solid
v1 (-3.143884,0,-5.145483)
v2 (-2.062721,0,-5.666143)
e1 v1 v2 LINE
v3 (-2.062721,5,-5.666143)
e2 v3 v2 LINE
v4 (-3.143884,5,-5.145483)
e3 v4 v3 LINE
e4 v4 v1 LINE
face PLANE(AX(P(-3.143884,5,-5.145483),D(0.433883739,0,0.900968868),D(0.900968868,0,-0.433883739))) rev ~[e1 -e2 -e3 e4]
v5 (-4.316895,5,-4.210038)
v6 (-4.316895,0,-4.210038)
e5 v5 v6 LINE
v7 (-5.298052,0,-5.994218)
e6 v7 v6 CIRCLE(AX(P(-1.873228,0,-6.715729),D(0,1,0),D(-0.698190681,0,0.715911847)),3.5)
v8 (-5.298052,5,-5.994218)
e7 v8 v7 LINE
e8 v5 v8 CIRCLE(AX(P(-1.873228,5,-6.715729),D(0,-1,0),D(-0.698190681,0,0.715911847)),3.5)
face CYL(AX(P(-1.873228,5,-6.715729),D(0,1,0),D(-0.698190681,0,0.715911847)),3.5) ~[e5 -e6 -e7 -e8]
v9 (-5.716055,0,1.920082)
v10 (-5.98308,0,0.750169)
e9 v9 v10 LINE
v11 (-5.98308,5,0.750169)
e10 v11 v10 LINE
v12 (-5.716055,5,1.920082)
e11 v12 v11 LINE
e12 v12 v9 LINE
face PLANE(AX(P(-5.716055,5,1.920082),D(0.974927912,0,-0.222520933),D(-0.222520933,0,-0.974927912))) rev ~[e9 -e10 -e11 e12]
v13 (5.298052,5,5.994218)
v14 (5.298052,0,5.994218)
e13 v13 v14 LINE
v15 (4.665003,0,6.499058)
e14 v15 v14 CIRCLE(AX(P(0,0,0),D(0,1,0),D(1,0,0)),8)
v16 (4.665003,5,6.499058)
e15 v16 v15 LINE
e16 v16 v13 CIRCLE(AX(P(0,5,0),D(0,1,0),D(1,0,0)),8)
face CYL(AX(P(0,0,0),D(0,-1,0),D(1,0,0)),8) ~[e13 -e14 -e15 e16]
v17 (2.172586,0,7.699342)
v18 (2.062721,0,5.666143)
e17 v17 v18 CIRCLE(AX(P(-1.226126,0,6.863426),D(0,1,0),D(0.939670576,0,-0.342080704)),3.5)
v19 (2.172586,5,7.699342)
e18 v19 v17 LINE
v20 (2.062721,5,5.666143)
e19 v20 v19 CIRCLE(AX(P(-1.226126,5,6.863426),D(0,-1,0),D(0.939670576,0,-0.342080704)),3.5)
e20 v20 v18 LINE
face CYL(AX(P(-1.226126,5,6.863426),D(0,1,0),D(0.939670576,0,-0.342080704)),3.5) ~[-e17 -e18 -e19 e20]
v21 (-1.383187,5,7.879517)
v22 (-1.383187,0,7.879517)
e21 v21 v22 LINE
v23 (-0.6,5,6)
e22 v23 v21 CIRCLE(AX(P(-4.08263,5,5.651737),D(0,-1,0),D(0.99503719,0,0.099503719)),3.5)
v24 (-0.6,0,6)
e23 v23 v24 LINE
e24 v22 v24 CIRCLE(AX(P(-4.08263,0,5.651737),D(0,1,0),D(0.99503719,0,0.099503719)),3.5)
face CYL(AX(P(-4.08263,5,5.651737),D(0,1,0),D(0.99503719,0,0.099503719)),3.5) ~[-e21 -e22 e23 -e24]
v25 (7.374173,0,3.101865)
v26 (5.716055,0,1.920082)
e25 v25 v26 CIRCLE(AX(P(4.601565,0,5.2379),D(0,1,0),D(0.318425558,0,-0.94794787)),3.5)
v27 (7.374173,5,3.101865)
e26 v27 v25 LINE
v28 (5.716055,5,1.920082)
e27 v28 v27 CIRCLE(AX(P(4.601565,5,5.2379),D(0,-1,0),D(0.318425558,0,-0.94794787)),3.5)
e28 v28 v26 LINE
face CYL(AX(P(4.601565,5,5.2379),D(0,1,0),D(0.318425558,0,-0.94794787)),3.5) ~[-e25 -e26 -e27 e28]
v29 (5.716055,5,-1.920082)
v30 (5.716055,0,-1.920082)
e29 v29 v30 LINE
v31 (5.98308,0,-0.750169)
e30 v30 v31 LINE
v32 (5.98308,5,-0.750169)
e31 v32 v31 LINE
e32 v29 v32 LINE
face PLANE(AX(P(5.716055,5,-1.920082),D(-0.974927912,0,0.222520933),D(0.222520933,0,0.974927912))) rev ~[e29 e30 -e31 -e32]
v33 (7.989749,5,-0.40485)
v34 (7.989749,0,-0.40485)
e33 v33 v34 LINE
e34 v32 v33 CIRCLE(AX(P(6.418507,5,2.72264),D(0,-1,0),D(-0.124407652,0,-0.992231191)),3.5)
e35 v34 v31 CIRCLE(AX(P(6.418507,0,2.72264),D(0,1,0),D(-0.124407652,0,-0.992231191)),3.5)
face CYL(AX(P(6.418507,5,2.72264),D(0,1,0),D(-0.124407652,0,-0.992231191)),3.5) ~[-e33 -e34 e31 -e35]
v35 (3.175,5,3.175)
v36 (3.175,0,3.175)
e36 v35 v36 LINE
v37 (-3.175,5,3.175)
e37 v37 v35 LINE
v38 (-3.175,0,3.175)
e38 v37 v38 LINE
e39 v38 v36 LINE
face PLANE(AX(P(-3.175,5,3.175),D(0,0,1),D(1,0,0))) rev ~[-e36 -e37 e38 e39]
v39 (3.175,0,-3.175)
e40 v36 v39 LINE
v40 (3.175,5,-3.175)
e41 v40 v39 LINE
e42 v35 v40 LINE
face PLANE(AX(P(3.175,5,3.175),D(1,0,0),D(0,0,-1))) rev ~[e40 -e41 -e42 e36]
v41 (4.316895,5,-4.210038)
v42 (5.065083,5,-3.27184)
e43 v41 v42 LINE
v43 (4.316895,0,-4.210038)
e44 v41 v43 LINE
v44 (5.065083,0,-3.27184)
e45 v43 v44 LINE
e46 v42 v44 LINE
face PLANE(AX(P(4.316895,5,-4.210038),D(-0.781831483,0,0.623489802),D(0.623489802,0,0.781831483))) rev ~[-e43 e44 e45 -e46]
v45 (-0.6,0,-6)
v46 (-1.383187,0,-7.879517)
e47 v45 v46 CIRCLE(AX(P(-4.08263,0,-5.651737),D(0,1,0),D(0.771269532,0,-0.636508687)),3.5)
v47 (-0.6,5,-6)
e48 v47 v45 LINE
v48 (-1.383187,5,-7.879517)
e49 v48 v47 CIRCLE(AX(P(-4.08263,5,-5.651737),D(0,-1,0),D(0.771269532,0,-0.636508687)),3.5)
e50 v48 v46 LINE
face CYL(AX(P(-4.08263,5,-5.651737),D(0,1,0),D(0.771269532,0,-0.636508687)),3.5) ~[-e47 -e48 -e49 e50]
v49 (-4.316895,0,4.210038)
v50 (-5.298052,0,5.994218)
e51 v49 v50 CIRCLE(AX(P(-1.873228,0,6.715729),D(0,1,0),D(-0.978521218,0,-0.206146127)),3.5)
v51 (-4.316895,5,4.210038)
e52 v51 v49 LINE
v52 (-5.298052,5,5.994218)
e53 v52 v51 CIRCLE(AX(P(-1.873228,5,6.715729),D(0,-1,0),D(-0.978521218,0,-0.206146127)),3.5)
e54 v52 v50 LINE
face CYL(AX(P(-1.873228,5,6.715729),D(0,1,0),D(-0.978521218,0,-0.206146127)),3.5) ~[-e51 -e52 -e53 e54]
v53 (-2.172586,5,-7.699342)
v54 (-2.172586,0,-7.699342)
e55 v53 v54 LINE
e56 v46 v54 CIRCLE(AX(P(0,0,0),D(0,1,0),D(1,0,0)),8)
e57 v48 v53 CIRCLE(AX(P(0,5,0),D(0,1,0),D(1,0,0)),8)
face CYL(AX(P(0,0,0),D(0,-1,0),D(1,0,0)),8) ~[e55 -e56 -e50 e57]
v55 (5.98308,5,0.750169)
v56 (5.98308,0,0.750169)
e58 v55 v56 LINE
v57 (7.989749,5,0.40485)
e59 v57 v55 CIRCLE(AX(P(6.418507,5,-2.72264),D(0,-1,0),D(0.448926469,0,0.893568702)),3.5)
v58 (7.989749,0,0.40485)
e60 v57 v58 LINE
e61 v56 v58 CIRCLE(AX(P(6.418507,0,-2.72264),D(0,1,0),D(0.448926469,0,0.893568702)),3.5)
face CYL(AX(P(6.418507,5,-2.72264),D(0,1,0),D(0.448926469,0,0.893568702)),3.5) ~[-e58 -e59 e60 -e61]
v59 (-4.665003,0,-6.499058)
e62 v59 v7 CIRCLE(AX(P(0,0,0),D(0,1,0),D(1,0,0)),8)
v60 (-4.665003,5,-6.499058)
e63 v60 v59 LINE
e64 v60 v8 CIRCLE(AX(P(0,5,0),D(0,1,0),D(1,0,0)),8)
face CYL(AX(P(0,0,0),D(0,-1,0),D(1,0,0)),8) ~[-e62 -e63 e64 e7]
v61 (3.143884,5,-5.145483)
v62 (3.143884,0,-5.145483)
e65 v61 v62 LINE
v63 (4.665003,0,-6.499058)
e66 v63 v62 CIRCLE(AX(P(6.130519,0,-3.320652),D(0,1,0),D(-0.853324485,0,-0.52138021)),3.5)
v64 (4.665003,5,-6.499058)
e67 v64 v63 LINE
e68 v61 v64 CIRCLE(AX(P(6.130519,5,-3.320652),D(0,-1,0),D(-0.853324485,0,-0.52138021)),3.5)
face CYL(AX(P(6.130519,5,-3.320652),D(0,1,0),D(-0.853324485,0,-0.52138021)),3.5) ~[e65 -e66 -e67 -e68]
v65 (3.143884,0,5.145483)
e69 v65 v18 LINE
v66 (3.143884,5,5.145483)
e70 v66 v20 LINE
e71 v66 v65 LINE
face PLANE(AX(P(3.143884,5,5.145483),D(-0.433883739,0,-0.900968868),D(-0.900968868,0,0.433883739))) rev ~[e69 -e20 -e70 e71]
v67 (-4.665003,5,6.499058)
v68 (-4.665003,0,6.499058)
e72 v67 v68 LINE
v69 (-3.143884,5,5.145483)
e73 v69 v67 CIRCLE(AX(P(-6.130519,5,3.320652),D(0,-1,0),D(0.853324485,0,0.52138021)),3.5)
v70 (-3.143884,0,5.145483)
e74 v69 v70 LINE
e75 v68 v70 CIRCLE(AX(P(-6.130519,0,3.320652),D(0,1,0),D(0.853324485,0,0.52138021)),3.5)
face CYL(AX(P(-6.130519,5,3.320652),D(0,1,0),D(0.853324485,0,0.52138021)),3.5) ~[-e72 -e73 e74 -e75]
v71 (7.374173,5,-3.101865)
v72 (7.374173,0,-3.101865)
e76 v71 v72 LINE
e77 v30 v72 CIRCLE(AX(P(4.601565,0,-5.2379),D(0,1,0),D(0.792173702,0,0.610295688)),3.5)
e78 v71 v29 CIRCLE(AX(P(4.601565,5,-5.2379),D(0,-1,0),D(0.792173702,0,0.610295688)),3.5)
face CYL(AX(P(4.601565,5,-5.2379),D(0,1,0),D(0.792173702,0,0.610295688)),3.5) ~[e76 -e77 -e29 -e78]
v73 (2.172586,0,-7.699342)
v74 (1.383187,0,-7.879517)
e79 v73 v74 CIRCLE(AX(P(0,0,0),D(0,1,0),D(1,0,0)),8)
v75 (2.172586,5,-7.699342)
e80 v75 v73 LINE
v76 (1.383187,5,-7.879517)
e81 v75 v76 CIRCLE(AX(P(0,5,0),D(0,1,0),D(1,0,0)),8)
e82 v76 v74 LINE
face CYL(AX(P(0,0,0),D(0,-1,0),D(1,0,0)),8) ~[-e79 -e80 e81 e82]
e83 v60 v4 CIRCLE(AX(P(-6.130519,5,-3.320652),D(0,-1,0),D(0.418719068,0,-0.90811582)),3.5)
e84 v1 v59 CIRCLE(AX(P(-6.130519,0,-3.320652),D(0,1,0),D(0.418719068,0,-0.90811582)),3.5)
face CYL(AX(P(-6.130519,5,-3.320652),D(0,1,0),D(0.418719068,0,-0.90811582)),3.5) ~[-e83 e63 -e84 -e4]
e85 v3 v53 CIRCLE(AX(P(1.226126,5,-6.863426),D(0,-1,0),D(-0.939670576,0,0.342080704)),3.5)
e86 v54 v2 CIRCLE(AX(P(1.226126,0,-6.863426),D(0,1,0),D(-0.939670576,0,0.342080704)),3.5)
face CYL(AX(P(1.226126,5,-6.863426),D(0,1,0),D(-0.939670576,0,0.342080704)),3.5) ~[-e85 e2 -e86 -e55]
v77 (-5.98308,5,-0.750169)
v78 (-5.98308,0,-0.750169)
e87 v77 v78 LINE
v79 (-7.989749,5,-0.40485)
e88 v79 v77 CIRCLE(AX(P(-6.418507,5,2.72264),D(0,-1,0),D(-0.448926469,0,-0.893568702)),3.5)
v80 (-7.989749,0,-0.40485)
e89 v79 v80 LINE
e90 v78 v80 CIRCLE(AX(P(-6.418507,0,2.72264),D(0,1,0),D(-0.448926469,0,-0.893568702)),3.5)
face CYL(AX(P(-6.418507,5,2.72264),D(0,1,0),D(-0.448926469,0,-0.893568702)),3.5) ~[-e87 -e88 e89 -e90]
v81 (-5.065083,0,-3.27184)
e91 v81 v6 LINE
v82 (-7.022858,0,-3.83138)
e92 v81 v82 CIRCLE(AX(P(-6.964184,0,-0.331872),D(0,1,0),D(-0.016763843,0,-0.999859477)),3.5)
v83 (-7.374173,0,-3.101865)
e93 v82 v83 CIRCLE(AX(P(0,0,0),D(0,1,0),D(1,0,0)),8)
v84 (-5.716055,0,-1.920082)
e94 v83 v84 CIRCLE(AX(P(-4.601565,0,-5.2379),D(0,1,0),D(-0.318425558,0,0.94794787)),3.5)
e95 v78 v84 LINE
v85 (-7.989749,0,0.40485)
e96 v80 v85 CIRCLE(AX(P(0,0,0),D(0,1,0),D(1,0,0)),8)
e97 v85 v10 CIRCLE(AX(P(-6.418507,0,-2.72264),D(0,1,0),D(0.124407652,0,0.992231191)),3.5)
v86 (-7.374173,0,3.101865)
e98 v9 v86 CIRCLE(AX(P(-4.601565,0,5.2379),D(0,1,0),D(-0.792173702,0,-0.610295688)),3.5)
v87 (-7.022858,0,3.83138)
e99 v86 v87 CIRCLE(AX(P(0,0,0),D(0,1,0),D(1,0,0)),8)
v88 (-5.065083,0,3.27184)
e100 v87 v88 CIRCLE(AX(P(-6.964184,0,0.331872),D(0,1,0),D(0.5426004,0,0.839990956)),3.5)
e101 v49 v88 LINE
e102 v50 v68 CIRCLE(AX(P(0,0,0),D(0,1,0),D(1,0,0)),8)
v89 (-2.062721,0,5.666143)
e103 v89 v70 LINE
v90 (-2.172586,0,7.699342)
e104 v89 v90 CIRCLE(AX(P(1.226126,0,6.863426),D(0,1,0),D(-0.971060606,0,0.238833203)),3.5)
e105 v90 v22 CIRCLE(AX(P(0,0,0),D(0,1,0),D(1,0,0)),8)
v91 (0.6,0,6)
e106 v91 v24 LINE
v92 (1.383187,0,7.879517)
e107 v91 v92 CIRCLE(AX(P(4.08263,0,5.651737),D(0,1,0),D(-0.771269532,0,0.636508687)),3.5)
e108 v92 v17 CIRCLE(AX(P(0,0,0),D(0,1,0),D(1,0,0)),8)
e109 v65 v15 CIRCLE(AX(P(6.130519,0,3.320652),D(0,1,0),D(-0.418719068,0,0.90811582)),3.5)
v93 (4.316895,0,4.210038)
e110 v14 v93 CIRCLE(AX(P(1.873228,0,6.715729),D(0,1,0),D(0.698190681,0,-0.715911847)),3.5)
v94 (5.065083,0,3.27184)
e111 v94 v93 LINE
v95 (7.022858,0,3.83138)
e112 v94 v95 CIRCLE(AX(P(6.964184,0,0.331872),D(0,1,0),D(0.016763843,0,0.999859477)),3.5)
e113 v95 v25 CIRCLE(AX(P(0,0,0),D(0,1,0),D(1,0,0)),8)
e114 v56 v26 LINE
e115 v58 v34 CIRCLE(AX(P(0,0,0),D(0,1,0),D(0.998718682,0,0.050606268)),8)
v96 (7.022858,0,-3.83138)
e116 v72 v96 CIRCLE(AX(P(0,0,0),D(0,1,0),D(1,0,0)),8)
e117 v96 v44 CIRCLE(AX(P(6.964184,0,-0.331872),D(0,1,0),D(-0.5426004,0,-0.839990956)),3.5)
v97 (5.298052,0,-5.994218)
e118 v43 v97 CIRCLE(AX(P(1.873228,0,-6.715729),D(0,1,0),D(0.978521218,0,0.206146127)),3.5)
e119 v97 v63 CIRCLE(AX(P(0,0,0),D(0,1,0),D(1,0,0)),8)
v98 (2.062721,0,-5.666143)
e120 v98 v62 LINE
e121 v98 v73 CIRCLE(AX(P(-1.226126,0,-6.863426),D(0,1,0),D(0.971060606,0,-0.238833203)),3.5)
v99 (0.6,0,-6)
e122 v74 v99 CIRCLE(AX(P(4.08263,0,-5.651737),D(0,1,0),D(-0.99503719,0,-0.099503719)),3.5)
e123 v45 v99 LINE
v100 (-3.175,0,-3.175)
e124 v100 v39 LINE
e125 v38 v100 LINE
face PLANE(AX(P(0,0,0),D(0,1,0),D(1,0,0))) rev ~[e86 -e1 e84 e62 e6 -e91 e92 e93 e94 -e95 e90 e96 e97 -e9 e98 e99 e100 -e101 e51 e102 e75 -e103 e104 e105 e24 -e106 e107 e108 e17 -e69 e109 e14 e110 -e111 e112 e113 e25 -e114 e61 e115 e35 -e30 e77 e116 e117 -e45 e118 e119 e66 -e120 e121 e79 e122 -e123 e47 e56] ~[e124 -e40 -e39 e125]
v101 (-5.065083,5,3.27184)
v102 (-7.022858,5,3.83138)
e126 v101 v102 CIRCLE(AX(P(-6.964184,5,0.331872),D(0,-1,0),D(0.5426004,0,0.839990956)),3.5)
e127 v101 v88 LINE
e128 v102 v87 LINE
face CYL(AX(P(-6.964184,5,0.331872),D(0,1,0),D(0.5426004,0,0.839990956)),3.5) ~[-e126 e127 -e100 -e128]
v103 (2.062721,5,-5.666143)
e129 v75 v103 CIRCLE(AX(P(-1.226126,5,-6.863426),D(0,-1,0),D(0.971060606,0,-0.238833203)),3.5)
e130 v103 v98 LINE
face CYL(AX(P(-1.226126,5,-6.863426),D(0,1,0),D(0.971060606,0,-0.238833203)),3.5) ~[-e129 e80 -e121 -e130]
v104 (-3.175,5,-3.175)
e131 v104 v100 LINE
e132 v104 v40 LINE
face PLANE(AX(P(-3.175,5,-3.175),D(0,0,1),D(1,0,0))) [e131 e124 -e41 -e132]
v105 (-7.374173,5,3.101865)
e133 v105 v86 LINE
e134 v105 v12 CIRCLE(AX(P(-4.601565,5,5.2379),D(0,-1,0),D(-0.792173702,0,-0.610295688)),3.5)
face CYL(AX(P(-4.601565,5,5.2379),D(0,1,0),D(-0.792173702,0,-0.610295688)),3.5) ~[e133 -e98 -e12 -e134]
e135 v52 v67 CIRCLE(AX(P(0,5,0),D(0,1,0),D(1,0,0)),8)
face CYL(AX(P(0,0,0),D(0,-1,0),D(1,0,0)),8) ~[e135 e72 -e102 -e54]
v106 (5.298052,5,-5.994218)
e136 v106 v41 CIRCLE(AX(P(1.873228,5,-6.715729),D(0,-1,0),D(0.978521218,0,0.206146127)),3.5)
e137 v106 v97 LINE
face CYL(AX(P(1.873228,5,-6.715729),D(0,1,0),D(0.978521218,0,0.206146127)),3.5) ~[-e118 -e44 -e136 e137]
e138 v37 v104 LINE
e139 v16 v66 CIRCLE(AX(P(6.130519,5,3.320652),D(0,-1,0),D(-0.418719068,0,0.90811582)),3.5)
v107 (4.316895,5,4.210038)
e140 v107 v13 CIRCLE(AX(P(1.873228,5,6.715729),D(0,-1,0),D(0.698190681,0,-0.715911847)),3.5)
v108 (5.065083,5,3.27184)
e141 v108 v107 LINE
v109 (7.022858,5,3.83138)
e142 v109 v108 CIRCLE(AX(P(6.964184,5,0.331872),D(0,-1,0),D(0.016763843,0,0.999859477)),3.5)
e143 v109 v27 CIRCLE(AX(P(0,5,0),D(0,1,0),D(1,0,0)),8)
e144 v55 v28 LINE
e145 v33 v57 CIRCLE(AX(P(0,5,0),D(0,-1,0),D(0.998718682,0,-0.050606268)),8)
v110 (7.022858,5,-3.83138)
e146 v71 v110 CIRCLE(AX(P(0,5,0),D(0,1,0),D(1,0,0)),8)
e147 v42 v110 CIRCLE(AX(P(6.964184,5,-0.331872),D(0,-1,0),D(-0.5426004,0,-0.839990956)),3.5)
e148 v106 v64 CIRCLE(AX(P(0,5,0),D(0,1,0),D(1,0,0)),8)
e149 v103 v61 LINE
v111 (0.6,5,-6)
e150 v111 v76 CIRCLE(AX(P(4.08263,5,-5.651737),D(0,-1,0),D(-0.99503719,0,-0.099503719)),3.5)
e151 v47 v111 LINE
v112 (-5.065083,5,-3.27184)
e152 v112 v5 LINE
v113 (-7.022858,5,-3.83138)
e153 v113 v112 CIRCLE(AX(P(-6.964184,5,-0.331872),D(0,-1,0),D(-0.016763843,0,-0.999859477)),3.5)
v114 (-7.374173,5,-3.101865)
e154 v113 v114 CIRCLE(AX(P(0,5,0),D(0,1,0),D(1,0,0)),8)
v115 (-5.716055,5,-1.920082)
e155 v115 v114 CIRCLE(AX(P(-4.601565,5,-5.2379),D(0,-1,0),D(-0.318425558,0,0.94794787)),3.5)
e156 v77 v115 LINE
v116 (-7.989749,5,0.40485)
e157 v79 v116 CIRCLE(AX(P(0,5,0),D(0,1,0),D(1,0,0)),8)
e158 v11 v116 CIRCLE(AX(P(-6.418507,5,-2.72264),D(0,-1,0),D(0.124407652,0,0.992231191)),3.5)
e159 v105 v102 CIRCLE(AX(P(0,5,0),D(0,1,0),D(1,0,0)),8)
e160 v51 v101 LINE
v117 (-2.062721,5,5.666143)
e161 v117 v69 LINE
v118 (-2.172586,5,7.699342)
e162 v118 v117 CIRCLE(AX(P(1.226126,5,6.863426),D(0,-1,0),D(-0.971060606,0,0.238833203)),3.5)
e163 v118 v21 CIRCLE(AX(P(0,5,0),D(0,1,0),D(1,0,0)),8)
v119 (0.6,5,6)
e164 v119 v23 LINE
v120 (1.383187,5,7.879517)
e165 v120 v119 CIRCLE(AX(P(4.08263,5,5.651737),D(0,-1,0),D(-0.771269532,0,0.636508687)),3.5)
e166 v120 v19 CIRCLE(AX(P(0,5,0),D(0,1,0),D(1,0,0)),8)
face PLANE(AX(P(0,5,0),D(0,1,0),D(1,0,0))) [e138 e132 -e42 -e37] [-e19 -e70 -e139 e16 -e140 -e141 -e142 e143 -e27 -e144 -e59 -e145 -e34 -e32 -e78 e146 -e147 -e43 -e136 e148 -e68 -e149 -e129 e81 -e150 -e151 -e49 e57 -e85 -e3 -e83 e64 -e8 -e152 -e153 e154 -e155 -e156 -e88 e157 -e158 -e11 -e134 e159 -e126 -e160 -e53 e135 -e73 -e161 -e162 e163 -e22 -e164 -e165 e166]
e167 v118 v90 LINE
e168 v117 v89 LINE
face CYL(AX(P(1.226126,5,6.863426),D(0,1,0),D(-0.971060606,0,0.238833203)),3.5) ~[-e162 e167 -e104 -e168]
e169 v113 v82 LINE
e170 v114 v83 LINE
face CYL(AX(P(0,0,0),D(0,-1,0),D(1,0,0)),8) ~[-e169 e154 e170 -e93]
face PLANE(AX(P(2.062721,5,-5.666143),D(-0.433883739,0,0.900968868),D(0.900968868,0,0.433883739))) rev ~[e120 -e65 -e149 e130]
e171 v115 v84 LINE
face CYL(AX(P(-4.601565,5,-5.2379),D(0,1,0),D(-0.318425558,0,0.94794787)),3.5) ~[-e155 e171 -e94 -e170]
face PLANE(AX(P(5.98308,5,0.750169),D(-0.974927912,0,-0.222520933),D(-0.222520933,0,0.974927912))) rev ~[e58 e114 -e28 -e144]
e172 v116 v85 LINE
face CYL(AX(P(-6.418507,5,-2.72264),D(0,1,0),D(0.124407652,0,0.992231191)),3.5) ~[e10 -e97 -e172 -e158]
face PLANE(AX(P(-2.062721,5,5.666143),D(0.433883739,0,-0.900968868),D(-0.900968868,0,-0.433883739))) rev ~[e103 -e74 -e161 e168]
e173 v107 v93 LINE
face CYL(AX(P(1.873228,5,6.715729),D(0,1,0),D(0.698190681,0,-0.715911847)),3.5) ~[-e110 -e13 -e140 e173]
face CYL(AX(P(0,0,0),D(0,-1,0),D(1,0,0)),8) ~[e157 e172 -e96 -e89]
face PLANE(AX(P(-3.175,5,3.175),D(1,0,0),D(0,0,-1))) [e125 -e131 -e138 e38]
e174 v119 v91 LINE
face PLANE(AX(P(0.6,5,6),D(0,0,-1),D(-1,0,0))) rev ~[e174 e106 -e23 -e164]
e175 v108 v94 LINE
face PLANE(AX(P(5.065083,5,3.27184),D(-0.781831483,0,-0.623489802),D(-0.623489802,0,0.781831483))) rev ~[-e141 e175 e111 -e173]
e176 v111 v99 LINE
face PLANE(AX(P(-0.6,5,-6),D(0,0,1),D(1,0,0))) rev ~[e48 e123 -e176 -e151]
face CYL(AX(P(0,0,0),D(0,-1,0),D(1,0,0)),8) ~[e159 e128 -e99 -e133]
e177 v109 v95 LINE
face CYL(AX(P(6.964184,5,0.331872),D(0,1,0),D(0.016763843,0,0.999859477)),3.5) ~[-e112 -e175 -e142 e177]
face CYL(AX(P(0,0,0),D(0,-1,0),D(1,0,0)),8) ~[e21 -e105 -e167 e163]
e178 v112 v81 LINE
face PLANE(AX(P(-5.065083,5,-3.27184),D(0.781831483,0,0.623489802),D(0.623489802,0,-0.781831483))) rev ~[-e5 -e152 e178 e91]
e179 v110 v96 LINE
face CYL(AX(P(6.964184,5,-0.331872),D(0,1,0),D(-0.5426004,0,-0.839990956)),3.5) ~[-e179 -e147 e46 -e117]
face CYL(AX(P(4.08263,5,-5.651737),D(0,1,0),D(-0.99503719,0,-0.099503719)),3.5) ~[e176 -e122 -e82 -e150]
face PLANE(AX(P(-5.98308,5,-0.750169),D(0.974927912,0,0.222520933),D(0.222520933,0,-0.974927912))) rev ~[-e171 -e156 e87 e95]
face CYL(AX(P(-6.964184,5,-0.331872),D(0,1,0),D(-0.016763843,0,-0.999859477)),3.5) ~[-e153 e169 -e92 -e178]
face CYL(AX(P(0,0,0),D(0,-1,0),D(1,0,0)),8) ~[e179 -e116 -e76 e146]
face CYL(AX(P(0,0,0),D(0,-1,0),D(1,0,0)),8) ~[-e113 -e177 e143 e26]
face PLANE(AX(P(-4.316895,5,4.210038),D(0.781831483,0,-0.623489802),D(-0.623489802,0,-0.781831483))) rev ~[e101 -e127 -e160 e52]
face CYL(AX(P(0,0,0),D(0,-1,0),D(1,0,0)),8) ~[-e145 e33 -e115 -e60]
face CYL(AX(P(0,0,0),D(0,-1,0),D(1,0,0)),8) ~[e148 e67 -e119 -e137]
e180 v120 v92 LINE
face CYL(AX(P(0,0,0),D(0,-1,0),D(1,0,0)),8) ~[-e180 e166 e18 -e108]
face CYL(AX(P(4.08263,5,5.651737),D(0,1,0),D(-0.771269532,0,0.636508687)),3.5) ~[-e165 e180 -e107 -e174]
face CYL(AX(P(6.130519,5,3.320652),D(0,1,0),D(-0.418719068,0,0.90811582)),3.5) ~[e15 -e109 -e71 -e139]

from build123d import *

# Parameters (mm, degrees)
SKETCH3_R           = 8
BOSS_EXTRUDE3_DEPTH = 5
CUT_EXTRUDE1_DEPTH  = 6
SKETCH5_W           = 6.35
SKETCH5_H           = 6.35
CUT_EXTRUDE2_DEPTH  = 6


with BuildPart() as part:
    # Sketch3 → Boss-Extrude3 (new body)
    with BuildSketch(Plane(origin=(0, 0, 0), x_dir=(1, 0, 0), z_dir=(0, 1, 0))):
        Circle(SKETCH3_R)
    extrude(amount=BOSS_EXTRUDE3_DEPTH)

    # Sketch4 → Cut-Extrude1 (cut, through all)
    with BuildSketch(Plane(origin=(0, 5, 0), x_dir=(1, 0, 0), z_dir=(0, 1, 0))):
        with BuildLine():
            Line((-0.6, 6), (0.6, 6))
            ThreePointArc((0.6, 6), (0.851894231, 6.997970737), (1.383186803, 7.879517388))
            ThreePointArc((1.383186803, 7.879517388), (0, 8), (-1.383186803, 7.879517388))
            ThreePointArc((-1.383186803, 7.879517388), (-0.851894231, 6.997970737), (-0.6, 6))
        make_face()
        with BuildLine():
            Line((2.062721114, 5.666143451), (3.143883755, 5.145482964))
            ThreePointArc((3.143883755, 5.145482964), (3.80383589, 5.935330718), (4.665002715, 6.499057599))
            ThreePointArc((4.665002715, 6.499057599), (3.471069913, 7.207750943), (2.172586219, 7.699342123))
            ThreePointArc((2.172586219, 7.699342123), (2.268775529, 6.674576827), (2.062721114, 5.666143451))
        make_face()
        with BuildLine():
            Line((4.316895014, 4.210037701), (5.065082776, 3.271839922))
            ThreePointArc((5.065082776, 3.271839922), (6.002381201, 3.697125659), (7.022857626, 3.831379746))
            ThreePointArc((7.022857626, 3.831379746), (6.25465186, 4.987918415), (5.298051895, 5.994217724))
            ThreePointArc((5.298051895, 5.994217724), (4.94008647, 5.029201118), (4.316895014, 4.210037701))
        make_face()
        with BuildLine():
            Line((5.716054913, 1.920082351), (5.983080033, 0.750168856))
            ThreePointArc((5.983080033, 0.750168856), (7.0120813, 0.72665952), (7.989749455, 0.404850146))
            ThreePointArc((7.989749455, 0.404850146), (7.799423297, 1.780167472), (7.374173417, 3.10186499))
            ThreePointArc((7.374173417, 3.10186499), (6.6329527, 2.387730448), (5.716054913, 1.920082351))
        make_face()
        with BuildLine():
            Line((5.983080033, -0.750168856), (5.716054913, -1.920082351))
            ThreePointArc((5.716054913, -1.920082351), (6.6329527, -2.387730448), (7.374173417, -3.10186499))
            ThreePointArc((7.374173417, -3.10186499), (7.799423297, -1.780167472), (7.989749455, -0.404850146))
            ThreePointArc((7.989749455, -0.404850146), (7.0120813, -0.72665952), (5.983080033, -0.750168856))
        make_face()
        with BuildLine():
            Line((5.065082776, -3.271839922), (4.316895014, -4.210037701))
            ThreePointArc((4.316895014, -4.210037701), (4.94008647, -5.029201118), (5.298051895, -5.994217724))
            ThreePointArc((5.298051895, -5.994217724), (6.25465186, -4.987918415), (7.022857626, -3.831379746))
            ThreePointArc((7.022857626, -3.831379746), (6.002381201, -3.697125659), (5.065082776, -3.271839922))
        make_face()
        with BuildLine():
            Line((3.143883755, -5.145482964), (2.062721114, -5.666143451))
            ThreePointArc((2.062721114, -5.666143451), (2.268775529, -6.674576827), (2.172586219, -7.699342123))
            ThreePointArc((2.172586219, -7.699342123), (3.471069913, -7.207750943), (4.665002715, -6.499057599))
            ThreePointArc((4.665002715, -6.499057599), (3.80383589, -5.935330718), (3.143883755, -5.145482964))
        make_face()
        with BuildLine():
            Line((0.6, -6), (-0.6, -6))
            ThreePointArc((-0.6, -6), (-0.851894231, -6.997970737), (-1.383186803, -7.879517388))
            ThreePointArc((-1.383186803, -7.879517388), (0, -8), (1.383186803, -7.879517388))
            ThreePointArc((1.383186803, -7.879517388), (0.851894231, -6.997970737), (0.6, -6))
        make_face()
        with BuildLine():
            Line((-2.062721114, -5.666143451), (-3.143883755, -5.145482964))
            ThreePointArc((-3.143883755, -5.145482964), (-3.80383589, -5.935330718), (-4.665002715, -6.499057599))
            ThreePointArc((-4.665002715, -6.499057599), (-3.471069913, -7.207750943), (-2.172586219, -7.699342123))
            ThreePointArc((-2.172586219, -7.699342123), (-2.268775529, -6.674576827), (-2.062721114, -5.666143451))
        make_face()
        with BuildLine():
            Line((-4.316895014, -4.210037701), (-5.065082776, -3.271839922))
            ThreePointArc((-5.065082776, -3.271839922), (-6.002381201, -3.697125659), (-7.022857626, -3.831379746))
            ThreePointArc((-7.022857626, -3.831379746), (-6.25465186, -4.987918415), (-5.298051895, -5.994217724))
            ThreePointArc((-5.298051895, -5.994217724), (-4.94008647, -5.029201118), (-4.316895014, -4.210037701))
        make_face()
        with BuildLine():
            Line((-5.716054913, -1.920082351), (-5.983080033, -0.750168856))
            ThreePointArc((-5.983080033, -0.750168856), (-7.0120813, -0.72665952), (-7.989749455, -0.404850146))
            ThreePointArc((-7.989749455, -0.404850146), (-7.799423297, -1.780167472), (-7.374173417, -3.10186499))
            ThreePointArc((-7.374173417, -3.10186499), (-6.6329527, -2.387730448), (-5.716054913, -1.920082351))
        make_face()
        with BuildLine():
            Line((-5.983080033, 0.750168856), (-5.716054913, 1.920082351))
            ThreePointArc((-5.716054913, 1.920082351), (-6.6329527, 2.387730448), (-7.374173417, 3.10186499))
            ThreePointArc((-7.374173417, 3.10186499), (-7.799423297, 1.780167472), (-7.989749455, 0.404850146))
            ThreePointArc((-7.989749455, 0.404850146), (-7.0120813, 0.72665952), (-5.983080033, 0.750168856))
        make_face()
        with BuildLine():
            Line((-5.065082776, 3.271839922), (-4.316895014, 4.210037701))
            ThreePointArc((-4.316895014, 4.210037701), (-4.94008647, 5.029201118), (-5.298051895, 5.994217724))
            ThreePointArc((-5.298051895, 5.994217724), (-6.25465186, 4.987918415), (-7.022857626, 3.831379746))
            ThreePointArc((-7.022857626, 3.831379746), (-6.002381201, 3.697125659), (-5.065082776, 3.271839922))
        make_face()
        with BuildLine():
            Line((-3.143883755, 5.145482964), (-2.062721114, 5.666143451))
            ThreePointArc((-2.062721114, 5.666143451), (-2.268775529, 6.674576827), (-2.172586219, 7.699342123))
            ThreePointArc((-2.172586219, 7.699342123), (-3.471069913, 7.207750943), (-4.665002715, 6.499057599))
            ThreePointArc((-4.665002715, 6.499057599), (-3.80383589, 5.935330718), (-3.143883755, 5.145482964))
        make_face()
    extrude(amount=-CUT_EXTRUDE1_DEPTH, mode=Mode.SUBTRACT)

    # Sketch5 → Cut-Extrude2 (cut, through all)
    with BuildSketch(Plane(origin=(0, 5, 0), x_dir=(1, 0, 0), z_dir=(0, 1, 0))):
        Rectangle(SKETCH5_W, SKETCH5_H)
    extrude(amount=-CUT_EXTRUDE2_DEPTH, mode=Mode.SUBTRACT)


solid = part.part
